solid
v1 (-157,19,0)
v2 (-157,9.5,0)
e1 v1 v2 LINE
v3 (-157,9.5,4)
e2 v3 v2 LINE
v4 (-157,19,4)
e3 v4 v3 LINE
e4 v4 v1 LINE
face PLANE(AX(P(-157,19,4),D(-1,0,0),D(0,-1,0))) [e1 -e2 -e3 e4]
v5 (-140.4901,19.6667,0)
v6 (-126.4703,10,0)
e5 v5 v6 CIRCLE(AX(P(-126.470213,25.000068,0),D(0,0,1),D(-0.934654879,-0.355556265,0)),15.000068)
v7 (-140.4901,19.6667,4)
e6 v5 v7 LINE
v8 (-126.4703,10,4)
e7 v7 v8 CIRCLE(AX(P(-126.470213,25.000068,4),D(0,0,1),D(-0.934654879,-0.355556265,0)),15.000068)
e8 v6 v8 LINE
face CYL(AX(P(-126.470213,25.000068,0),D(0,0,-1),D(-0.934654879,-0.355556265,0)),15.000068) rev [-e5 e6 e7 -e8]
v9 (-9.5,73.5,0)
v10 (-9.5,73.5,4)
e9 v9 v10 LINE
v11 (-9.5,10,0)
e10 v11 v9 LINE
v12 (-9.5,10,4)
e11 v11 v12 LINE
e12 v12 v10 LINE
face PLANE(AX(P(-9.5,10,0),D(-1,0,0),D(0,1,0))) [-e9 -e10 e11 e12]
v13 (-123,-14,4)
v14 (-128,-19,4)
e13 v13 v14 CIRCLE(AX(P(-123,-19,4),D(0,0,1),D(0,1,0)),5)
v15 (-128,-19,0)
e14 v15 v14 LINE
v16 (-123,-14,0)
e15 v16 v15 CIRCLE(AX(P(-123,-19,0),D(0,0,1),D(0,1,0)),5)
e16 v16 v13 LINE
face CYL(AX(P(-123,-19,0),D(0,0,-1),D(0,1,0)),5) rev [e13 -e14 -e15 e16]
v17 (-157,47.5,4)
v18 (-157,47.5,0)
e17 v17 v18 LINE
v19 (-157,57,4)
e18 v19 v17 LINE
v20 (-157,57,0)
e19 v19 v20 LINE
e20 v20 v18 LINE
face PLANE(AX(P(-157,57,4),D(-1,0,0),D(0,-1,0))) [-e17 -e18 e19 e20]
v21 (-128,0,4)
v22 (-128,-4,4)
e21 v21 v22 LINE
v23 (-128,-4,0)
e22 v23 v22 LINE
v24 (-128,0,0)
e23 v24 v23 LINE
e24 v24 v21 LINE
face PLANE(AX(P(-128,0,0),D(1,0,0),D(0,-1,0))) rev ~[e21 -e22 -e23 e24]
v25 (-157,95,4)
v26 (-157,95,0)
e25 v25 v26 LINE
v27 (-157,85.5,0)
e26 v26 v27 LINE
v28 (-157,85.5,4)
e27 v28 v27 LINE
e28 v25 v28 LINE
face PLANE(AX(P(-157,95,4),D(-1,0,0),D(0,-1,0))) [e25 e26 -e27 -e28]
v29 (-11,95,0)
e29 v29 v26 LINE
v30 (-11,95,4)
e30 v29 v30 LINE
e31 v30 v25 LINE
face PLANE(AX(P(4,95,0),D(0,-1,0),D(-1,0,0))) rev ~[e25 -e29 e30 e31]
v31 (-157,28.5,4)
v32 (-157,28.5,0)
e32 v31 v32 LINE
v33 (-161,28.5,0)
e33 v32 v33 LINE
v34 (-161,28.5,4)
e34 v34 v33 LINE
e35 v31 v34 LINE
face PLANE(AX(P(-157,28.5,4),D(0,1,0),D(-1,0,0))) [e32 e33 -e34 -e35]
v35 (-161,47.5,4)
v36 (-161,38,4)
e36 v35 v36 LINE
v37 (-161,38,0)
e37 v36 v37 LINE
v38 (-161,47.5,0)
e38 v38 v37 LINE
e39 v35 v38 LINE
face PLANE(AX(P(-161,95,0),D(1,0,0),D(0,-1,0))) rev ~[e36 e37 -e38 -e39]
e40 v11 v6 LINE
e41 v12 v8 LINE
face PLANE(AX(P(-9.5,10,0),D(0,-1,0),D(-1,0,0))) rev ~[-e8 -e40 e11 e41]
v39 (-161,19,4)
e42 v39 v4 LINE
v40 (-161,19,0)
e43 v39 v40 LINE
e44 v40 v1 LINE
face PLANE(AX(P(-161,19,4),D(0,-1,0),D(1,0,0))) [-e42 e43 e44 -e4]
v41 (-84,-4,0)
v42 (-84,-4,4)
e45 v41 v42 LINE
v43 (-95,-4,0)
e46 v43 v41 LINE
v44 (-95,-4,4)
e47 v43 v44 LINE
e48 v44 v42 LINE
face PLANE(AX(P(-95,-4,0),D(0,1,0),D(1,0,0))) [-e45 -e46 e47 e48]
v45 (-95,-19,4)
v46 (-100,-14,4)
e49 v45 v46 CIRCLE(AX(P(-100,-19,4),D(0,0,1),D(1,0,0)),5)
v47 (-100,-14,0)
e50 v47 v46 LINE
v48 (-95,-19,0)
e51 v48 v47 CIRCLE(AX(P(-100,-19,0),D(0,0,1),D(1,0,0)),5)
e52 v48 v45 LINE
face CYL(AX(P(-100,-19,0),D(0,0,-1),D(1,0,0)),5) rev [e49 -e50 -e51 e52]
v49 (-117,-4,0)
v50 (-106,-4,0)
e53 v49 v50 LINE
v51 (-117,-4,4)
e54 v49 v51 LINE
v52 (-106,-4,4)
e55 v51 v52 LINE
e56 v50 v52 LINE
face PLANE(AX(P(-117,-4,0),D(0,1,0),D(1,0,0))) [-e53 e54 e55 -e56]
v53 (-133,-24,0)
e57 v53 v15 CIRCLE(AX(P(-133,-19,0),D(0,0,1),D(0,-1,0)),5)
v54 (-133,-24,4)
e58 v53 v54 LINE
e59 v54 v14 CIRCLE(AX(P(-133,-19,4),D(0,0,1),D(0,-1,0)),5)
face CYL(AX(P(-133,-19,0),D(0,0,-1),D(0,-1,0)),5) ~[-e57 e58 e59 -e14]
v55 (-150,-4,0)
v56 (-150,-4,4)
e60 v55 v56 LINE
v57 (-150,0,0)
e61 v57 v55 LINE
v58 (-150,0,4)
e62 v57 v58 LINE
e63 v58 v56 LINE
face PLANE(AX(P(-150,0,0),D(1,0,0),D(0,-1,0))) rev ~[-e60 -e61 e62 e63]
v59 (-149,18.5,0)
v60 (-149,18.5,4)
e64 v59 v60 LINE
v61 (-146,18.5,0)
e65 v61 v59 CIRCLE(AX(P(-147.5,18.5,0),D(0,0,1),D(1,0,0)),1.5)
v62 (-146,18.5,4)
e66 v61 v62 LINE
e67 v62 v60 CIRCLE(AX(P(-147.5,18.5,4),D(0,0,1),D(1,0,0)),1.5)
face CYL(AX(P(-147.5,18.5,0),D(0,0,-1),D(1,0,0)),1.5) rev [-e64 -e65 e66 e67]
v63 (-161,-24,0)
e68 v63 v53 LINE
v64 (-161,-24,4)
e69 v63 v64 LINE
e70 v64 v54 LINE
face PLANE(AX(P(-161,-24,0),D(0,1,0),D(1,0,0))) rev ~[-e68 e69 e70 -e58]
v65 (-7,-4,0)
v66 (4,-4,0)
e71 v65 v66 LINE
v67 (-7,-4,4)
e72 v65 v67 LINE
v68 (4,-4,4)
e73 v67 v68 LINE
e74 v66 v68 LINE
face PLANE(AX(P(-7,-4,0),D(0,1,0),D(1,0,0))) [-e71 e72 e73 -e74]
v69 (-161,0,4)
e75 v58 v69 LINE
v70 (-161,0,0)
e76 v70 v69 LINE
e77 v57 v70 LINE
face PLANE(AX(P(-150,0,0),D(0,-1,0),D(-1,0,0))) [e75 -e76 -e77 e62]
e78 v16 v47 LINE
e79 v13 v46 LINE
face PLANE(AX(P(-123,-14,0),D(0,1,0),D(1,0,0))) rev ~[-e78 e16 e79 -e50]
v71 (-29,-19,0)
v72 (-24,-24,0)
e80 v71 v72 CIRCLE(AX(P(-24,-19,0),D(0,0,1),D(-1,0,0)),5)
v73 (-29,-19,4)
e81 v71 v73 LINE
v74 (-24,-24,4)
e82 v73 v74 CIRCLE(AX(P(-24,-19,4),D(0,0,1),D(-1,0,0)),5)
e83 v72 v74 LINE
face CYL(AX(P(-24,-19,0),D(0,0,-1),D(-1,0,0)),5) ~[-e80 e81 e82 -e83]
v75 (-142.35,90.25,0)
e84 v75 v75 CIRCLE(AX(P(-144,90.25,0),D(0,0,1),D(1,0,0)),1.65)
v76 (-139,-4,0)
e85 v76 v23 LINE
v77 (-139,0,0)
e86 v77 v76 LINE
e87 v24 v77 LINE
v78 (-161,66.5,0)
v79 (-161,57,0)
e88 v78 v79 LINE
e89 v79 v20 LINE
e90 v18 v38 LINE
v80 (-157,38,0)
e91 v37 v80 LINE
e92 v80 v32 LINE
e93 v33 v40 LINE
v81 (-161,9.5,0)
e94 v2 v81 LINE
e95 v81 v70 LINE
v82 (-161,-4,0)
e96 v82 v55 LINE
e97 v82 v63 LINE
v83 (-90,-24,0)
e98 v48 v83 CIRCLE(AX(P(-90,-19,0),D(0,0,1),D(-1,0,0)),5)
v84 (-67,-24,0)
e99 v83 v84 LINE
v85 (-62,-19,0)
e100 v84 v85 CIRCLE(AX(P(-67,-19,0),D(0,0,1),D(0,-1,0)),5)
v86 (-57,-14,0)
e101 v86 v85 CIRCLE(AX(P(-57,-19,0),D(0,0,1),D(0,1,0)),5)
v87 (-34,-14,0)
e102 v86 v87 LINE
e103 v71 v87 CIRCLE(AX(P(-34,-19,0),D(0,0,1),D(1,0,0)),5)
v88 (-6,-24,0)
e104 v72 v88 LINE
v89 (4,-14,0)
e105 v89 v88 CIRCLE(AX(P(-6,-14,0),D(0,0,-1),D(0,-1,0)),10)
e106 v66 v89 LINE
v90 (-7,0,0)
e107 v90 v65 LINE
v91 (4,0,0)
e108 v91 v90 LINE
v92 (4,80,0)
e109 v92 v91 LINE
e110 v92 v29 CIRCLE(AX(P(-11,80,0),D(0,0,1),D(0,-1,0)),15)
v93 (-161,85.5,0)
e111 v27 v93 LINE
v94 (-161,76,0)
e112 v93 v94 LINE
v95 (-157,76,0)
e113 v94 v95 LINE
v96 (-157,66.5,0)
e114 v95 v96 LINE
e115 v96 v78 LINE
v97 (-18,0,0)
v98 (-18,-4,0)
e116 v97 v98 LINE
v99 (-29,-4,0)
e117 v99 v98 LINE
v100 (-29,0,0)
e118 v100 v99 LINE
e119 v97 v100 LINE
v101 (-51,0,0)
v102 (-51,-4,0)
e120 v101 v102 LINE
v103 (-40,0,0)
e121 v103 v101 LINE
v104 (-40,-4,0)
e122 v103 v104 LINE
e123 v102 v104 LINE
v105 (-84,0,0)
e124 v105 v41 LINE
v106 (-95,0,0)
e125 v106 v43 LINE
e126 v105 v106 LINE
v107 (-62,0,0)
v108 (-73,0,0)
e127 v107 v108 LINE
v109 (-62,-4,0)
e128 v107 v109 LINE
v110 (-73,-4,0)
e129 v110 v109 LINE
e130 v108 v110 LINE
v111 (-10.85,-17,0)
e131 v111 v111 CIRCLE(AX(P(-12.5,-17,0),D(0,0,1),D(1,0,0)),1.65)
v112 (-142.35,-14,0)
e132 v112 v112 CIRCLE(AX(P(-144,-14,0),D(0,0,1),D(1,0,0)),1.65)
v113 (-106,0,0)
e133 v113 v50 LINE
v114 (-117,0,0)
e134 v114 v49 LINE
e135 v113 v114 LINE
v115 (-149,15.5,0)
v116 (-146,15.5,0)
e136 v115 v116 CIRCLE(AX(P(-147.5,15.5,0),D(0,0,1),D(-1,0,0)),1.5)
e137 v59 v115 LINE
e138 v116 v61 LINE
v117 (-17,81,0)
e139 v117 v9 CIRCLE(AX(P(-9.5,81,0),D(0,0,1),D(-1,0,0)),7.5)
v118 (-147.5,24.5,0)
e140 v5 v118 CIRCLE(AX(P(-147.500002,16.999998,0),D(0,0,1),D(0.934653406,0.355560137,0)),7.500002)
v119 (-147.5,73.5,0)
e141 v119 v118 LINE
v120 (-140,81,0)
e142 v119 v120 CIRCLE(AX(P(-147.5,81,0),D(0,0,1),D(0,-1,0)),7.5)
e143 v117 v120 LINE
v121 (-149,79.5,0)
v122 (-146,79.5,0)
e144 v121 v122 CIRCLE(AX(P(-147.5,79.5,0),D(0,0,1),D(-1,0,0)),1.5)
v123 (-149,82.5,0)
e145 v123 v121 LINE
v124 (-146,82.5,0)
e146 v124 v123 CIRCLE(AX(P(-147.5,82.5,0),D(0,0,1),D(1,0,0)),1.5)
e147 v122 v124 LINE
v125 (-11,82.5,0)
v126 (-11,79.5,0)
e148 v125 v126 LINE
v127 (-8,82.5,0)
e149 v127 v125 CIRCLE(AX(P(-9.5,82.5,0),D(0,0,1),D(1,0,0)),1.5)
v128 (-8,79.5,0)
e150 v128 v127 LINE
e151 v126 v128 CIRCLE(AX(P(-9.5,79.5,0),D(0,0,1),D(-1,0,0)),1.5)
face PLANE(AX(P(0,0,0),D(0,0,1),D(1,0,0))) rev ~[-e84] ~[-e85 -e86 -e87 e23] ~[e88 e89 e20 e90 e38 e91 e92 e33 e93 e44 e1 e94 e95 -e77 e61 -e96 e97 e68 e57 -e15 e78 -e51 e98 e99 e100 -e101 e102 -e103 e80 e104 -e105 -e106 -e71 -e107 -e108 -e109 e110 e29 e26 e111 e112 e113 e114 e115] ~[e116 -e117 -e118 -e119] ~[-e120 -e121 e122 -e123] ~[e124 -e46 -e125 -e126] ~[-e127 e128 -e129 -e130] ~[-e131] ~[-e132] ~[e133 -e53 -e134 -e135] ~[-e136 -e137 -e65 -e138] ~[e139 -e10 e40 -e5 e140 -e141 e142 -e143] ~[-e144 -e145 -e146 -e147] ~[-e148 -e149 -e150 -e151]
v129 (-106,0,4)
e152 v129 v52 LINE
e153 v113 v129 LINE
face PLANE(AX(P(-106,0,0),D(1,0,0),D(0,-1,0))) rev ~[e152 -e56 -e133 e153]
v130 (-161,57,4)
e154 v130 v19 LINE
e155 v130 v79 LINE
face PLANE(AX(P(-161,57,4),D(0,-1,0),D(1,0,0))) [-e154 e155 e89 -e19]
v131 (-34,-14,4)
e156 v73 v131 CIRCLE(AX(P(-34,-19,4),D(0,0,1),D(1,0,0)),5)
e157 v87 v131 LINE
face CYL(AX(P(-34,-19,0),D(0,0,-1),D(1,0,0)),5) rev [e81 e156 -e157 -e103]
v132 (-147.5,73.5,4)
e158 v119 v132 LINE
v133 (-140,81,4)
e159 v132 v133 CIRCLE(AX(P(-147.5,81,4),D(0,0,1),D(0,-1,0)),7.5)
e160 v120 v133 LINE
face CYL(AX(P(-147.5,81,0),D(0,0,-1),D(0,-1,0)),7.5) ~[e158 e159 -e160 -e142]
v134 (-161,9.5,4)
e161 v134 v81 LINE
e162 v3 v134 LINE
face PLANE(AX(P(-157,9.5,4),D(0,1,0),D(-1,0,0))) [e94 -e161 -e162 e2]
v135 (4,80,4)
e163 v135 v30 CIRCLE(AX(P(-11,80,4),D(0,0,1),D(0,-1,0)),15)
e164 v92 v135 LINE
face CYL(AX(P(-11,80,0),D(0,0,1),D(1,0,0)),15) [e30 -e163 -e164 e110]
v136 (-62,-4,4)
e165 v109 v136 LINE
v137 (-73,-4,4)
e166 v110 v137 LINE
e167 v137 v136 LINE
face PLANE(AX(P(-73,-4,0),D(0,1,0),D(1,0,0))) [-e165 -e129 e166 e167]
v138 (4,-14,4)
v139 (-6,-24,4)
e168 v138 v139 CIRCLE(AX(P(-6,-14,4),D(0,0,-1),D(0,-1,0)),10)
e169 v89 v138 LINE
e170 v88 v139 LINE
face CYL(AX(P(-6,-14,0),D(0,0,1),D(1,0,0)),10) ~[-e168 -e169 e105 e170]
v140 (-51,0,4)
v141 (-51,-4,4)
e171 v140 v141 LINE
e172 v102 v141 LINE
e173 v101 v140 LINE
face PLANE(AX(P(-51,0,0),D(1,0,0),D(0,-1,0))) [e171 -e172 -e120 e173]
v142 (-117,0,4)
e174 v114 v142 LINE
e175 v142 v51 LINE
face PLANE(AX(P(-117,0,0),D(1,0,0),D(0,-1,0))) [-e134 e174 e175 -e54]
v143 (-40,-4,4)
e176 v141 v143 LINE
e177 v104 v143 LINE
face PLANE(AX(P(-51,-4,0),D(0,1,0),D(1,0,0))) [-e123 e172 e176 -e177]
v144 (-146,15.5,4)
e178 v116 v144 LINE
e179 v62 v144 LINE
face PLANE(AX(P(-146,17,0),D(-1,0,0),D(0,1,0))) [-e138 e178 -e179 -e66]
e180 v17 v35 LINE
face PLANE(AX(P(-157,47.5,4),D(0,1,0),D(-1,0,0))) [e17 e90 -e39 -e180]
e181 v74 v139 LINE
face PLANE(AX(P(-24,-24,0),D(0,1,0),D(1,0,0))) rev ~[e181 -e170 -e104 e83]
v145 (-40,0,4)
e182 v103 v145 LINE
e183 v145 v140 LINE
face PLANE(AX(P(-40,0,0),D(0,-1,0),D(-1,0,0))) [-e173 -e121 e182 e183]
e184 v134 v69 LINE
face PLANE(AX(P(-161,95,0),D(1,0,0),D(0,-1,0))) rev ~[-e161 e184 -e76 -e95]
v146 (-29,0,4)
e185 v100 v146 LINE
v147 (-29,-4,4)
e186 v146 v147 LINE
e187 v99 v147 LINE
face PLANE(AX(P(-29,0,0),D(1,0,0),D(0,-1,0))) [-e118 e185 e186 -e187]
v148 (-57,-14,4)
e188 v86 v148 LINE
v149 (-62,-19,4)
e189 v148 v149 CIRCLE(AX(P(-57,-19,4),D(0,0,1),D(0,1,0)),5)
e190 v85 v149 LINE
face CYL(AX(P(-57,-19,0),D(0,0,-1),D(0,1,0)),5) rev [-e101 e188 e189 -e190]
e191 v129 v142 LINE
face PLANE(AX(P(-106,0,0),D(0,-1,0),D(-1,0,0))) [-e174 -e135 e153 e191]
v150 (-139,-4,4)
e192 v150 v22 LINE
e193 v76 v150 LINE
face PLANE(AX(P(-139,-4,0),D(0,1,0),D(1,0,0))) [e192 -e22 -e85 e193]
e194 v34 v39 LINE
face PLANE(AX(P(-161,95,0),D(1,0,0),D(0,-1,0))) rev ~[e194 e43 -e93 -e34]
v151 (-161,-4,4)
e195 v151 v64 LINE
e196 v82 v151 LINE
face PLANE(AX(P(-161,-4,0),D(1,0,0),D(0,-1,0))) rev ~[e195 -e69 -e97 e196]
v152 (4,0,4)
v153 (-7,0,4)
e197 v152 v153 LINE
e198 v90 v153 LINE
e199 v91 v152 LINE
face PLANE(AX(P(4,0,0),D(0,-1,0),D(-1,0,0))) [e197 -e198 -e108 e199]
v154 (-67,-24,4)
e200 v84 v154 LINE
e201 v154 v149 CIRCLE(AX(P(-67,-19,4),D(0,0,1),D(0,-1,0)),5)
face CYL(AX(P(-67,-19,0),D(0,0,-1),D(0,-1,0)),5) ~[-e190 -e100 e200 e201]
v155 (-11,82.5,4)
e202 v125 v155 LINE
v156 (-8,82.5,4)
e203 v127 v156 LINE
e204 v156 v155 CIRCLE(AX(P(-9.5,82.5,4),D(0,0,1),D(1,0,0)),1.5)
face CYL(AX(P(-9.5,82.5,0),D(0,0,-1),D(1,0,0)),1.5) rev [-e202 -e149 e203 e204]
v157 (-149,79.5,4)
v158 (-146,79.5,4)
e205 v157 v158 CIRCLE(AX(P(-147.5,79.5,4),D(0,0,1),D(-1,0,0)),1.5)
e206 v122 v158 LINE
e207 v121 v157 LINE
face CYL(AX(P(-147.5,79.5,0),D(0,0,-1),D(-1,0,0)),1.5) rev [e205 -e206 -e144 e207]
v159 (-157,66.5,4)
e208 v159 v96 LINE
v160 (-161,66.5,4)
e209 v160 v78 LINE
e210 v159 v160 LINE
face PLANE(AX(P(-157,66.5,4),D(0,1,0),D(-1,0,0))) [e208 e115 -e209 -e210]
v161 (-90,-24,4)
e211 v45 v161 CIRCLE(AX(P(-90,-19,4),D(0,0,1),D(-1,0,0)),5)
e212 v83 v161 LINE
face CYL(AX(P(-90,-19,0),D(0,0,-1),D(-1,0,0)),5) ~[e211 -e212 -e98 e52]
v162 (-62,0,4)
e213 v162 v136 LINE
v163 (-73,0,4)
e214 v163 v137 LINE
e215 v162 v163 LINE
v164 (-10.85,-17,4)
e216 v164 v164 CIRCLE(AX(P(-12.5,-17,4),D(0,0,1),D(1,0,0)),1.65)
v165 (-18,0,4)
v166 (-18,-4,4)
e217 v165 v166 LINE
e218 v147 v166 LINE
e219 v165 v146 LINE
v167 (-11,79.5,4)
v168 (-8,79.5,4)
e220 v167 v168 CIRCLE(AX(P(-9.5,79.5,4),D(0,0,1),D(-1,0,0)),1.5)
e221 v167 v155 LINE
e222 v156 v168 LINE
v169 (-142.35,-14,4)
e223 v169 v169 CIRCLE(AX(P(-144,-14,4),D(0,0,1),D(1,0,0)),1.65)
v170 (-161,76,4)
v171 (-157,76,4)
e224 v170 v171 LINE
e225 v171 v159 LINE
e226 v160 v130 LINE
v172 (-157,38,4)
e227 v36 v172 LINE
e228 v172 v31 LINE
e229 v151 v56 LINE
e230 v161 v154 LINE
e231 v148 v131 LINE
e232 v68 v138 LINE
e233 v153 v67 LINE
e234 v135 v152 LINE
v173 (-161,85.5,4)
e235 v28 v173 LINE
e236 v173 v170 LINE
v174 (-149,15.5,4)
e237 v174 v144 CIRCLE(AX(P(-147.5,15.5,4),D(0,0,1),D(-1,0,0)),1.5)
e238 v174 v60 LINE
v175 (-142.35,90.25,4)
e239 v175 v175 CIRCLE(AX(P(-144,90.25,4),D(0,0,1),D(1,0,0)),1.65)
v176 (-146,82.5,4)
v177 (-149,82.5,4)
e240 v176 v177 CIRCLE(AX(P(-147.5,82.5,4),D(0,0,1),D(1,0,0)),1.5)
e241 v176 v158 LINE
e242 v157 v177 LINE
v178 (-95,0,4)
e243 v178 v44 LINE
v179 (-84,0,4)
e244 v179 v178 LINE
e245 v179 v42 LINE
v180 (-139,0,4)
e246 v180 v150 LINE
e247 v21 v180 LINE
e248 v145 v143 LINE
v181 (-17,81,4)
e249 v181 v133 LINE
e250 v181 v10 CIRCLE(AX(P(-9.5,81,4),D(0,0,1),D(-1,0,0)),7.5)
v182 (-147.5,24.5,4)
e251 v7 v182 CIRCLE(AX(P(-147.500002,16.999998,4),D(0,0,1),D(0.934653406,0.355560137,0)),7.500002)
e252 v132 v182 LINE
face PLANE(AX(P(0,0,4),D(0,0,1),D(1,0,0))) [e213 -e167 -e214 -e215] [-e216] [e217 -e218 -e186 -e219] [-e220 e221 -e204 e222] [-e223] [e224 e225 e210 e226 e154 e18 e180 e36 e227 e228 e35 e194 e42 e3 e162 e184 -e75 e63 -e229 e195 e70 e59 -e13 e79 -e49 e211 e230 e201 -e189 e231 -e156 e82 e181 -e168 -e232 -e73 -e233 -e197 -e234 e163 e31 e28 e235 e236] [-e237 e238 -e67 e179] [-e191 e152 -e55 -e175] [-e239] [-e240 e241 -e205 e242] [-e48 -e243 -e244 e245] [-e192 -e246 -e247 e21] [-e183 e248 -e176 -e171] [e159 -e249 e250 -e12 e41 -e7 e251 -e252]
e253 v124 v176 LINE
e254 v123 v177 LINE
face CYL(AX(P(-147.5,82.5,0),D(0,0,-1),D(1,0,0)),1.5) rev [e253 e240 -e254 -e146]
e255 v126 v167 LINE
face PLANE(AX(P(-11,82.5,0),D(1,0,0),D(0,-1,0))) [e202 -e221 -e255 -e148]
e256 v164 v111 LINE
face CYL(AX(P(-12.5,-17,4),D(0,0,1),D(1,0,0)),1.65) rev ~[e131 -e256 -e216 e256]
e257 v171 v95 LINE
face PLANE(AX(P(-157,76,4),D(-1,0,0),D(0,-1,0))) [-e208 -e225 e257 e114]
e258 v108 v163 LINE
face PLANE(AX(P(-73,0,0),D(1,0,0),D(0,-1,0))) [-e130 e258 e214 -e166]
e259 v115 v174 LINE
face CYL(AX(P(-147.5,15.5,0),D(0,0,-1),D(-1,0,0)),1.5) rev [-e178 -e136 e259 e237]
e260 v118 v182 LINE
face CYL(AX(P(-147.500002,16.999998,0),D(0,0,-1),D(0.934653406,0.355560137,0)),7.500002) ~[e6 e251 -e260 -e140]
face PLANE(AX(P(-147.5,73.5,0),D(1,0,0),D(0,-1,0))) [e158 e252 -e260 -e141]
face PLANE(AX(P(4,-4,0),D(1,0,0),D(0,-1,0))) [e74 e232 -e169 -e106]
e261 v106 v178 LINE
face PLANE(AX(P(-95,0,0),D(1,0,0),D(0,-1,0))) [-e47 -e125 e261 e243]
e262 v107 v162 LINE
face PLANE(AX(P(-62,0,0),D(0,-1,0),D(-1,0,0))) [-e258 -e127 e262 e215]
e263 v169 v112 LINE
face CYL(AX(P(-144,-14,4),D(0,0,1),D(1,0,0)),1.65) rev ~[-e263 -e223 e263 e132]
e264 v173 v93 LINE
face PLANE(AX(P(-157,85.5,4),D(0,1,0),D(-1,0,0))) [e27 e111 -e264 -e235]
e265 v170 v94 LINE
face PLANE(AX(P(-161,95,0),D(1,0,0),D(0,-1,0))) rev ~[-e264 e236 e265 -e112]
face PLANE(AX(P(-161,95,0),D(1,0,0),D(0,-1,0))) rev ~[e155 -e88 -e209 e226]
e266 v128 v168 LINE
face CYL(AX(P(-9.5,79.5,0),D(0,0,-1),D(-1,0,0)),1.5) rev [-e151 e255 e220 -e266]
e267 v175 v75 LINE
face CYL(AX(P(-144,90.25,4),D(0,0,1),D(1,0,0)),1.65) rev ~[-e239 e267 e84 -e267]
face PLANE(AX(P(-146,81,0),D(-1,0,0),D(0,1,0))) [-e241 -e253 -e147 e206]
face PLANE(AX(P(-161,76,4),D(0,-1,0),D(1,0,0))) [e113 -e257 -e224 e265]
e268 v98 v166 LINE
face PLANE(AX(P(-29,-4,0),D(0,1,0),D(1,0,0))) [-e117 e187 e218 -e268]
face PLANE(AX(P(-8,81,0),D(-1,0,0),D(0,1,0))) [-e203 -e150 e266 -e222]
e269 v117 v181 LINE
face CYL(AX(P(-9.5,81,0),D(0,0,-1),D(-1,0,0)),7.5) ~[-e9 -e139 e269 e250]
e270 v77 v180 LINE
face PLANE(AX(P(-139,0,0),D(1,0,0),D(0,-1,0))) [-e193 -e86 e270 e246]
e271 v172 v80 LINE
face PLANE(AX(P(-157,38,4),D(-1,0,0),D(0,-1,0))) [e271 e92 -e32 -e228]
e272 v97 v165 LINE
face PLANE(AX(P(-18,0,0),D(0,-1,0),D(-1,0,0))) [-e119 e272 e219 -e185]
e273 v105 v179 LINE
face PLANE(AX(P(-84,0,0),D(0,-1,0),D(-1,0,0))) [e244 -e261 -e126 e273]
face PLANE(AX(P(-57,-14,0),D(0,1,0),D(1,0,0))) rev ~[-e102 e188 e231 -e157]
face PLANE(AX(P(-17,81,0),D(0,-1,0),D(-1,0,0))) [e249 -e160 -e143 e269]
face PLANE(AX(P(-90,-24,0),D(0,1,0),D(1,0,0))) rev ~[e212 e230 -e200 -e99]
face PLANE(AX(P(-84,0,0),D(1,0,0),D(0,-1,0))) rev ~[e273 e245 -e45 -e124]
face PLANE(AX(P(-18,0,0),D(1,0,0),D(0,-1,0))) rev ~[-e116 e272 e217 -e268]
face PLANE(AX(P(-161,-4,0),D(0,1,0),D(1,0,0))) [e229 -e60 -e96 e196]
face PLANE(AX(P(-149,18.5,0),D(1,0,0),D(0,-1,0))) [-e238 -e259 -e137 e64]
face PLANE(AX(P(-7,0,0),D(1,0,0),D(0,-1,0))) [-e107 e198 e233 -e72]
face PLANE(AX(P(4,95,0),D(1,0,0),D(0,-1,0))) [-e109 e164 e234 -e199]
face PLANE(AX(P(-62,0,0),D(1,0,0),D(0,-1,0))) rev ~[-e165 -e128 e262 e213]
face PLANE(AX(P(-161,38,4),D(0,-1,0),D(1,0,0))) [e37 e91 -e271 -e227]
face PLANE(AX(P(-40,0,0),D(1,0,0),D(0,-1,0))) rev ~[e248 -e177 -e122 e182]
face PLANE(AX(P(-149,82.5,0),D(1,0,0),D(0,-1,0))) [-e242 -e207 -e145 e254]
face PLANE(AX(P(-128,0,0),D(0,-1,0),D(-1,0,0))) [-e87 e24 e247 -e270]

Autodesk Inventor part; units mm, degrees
ref_plane "YZ Plane" through (0, 0, 0) normal (1, 0, 0) x (0, 1, 0)
ref_plane "XZ Plane" through (0, 0, 0) normal (0, 1, 0) x (-1, 0, 0)
ref_plane "XY Plane" through (0, 0, 0) normal (0, 0, 1) x (1, 0, 0)
sketch "Schizzo1" plane through (0, 0, 0) normal (0, 0, 1) x (1, 0, 0)
  line L0 (-152.5, 86) -> (-2.5, 86) construction
  line L1 (-152.5, 0) -> (-152.5, 86) construction
  line L2 (-2.5, 0) -> (-2.5, 86) construction
  circle A0 centre (-9.5, 81) radius 1.5 projected
  circle A1 centre (-147.5, 81) radius 1.5 projected
  circle A2 centre (-147.5, 17) radius 1.5 projected
  line L3 (4, 95) -> (-161, 95)
  line L4 (-161, -24) -> (-133, -24)
  line L5 (-128, -19) -> (-128, -19)
  line L6 (-123, -14) -> (-100, -14)
  line L7 (-95, -19) -> (-95, -19)
  line L8 (-90, -24) -> (-67, -24)
  line L9 (-62, -19) -> (-62, -19)
  line L10 (-57, -14) -> (-34, -14)
  line L11 (-29, -19) -> (-29, -19)
  line L12 (-24, -24) -> (4, -24)
  arc A3 (-133, -24) -> (-128, -19) centre (-133, -19) ccw
  arc A4 (-123, -14) -> (-128, -19) centre (-123, -19) ccw
  arc A5 (-95, -19) -> (-100, -14) centre (-100, -19) ccw
  arc A6 (-95, -19) -> (-90, -24) centre (-90, -19) ccw
  arc A7 (-67, -24) -> (-62, -19) centre (-67, -19) ccw
  arc A8 (-57, -14) -> (-62, -19) centre (-57, -19) ccw
  arc A9 (-29, -19) -> (-34, -14) centre (-34, -19) ccw
  arc A10 (-29, -19) -> (-24, -24) centre (-24, -19) ccw
  arc A11 (-17, 81) -> (-9.5, 73.5) centre (-9.5, 81) ccw
  arc A12 (-147.5, 73.5) -> (-140, 81) centre (-147.5, 81) ccw
  arc A13 (-140.4901, 19.6667) -> (-147.5, 24.5) centre (-147.5, 17) ccw
  line L13 (-147.5, 73.5) -> (-147.5, 24.5)
  line L14 (-17, 81) -> (-140, 81)
  line L15 (-9.5, 10) -> (-126.4703, 10)
  arc A14 (-140.4901, 19.6667) -> (-126.4703, 10) centre (-126.4703, 25) ccw
  line L16 (-9.5, 10) -> (-9.5, 73.5)
  line L17 (-161, 95) -> (-161, -24)
  line L18 (4, 95) -> (4, -24)
  line L19 (-161, -4) -> (-150, -4) projected
  line L20 (-150, 0) -> (-150, -4) projected
  line L21 (-150, 0) -> (-161, 0) projected
  line L22 (-161, 0) -> (-161, -4) projected
  line L23 (-139, -4) -> (-128, -4) projected
  line L24 (-128, 0) -> (-128, -4) projected
  line L25 (-128, 0) -> (-139, 0) projected
  line L26 (-139, 0) -> (-139, -4) projected
  line L27 (-117, -4) -> (-106, -4) projected
  line L28 (-106, 0) -> (-106, -4) projected
  line L29 (-106, 0) -> (-117, 0) projected
  line L30 (-117, 0) -> (-117, -4) projected
  line L31 (-95, -4) -> (-84, -4) projected
  line L32 (-84, 0) -> (-84, -4) projected
  line L33 (-84, 0) -> (-95, 0) projected
  line L34 (-95, 0) -> (-95, -4) projected
  line L35 (-73, -4) -> (-62, -4) projected
  line L36 (-62, 0) -> (-62, -4) projected
  line L37 (-62, 0) -> (-73, 0) projected
  line L38 (-73, 0) -> (-73, -4) projected
  line L39 (-51, -4) -> (-40, -4) projected
  line L40 (-40, 0) -> (-40, -4) projected
  line L41 (-40, 0) -> (-51, 0) projected
  line L42 (-51, 0) -> (-51, -4) projected
  line L43 (-29, -4) -> (-18, -4) projected
  line L44 (-18, 0) -> (-18, -4) projected
  line L45 (-18, 0) -> (-29, 0) projected
  line L46 (-29, 0) -> (-29, -4) projected
  line L47 (-7, -4) -> (4, -4) projected
  line L48 (-7, 0) -> (-7, -4) projected
  line L49 (-147.5, 82.5) -> (-147.5, 79.5) construction
  line L50 (-149, 82.5) -> (-149, 79.5)
  line L51 (-146, 79.5) -> (-146, 82.5)
  arc A15 (-146, 82.5) -> (-149, 82.5) centre (-147.5, 82.5) ccw
  arc A16 (-149, 79.5) -> (-146, 79.5) centre (-147.5, 79.5) ccw
  line L52 (-9.5, 82.5) -> (-9.5, 79.5) construction
  line L53 (-11, 82.5) -> (-11, 79.5)
  line L54 (-8, 79.5) -> (-8, 82.5)
  arc A17 (-8, 82.5) -> (-11, 82.5) centre (-9.5, 82.5) ccw
  arc A18 (-11, 79.5) -> (-8, 79.5) centre (-9.5, 79.5) ccw
  line L55 (-147.5, 18.5) -> (-147.5, 15.5) construction
  line L56 (-149, 18.5) -> (-149, 15.5)
  line L57 (-146, 15.5) -> (-146, 18.5)
  arc A19 (-146, 18.5) -> (-149, 18.5) centre (-147.5, 18.5) ccw
  arc A20 (-149, 15.5) -> (-146, 15.5) centre (-147.5, 15.5) ccw
  line L58 (4, 0) -> (4, -4) projected
  line L59 (4, 0) -> (-7, 0) projected
  point P0 (-128, -24)
  point P1 (-128, -14)
  point P2 (-95, -14)
  point P3 (-95, -24)
  point P4 (-62, -24)
  point P5 (-62, -14)
  point P6 (-29, -14)
  point P7 (-29, -24)
  point P8 (-144.8074, 10)
  dimension "d0" = 165
  dimension "d9" = 33
  dimension "d10" = 10
  dimension "d11" = 33
  dimension "d12" = 10
  dimension "d13" = 33
  dimension "d14" = 10
  dimension "d15" = 33
  dimension "d16" = 5
  dimension "d21" = 15
extrude "Estrusione1" add sketch "Schizzo1" along normal blind 4 contours L18 L59 L48 L47 L12 A10 A9 L10 A8 A7 L8 A6 A5 L6 A4 A3 L4 L17 L19 L20 L21 L3
sketch "Schizzo2" plane through (0, 0, 4) normal (0, 0, 1) x (1, 0, 0)
  line L0 (-157, 85.5) -> (-161, 85.5)
  line L1 (-161, 85.5) -> (-161, 95)
  line L2 (-161, 95) -> (-157, 95)
  line L3 (-157, 95) -> (-157, 85.5)
  line L4 (-157, 66.5) -> (-161, 66.5)
  line L5 (-161, 66.5) -> (-161, 76)
  line L6 (-161, 76) -> (-157, 76)
  line L7 (-157, 76) -> (-157, 66.5)
  line L8 (-161, 57) -> (-157, 57)
  line L9 (-157, 57) -> (-157, 47.5)
  line L10 (-157, 47.5) -> (-161, 47.5)
  line L11 (-161, 47.5) -> (-161, 57)
  line L12 (-157, 28.5) -> (-161, 28.5)
  line L13 (-161, 28.5) -> (-161, 38)
  line L14 (-161, 38) -> (-157, 38)
  line L15 (-157, 38) -> (-157, 28.5)
  line L16 (-161, 19) -> (-157, 19)
  line L17 (-157, 19) -> (-157, 9.5)
  line L18 (-157, 9.5) -> (-161, 9.5)
  line L19 (-161, 9.5) -> (-161, 19)
  point P0 (0, 0)
extrude "Estrusione2" cut sketch "Schizzo2" against normal blind 4
fillet "Raccordo1" radius 15 1 edges at (4, 95, 2)
fillet "Raccordo2" radius 10 1 edges at (4, -24, 2)
sketch "Schizzo3" plane through (0, 0, 4) normal (0, 0, 1) x (1, 0, 0)
  line L0 (-14.15, 0) -> (-10.85, 0) projected
  line L1 (-146.15, 0) -> (-142.85, 0) projected
  line L2 (-144.5, 0) -> (-137.5, 0) construction
  line L3 (-12.5, 0) -> (-12.5, -17) construction
  circle A0 centre (-12.5, -17) radius 1.65
  line L4 (-157, 82.4) -> (-157, 79.1) construction
  line L5 (-157, 85.5) -> (-157, 95) construction
  line L6 (-157, 95) -> (-157, 85.5) projected
  line L7 (-157, 90.25) -> (-144, 90.25) construction
  circle A1 centre (-144, 90.25) radius 1.65
  line L8 (-157, -12.35) -> (-157, -15.65) construction
  line L9 (-157, -14) -> (-144, -14) construction
  circle A2 centre (-144, -14) radius 1.65
  point P0 (0, 0)
  dimension "d32" = 3.3
  dimension "d35" = 13
  dimension "d36" = 3.3
  dimension "d37" = 13
  dimension "d38" = 3.3
  dimension "d39" = 17
extrude "Estrusione3" cut sketch "Schizzo3" against normal blind 4
properties part number "LatoAlimentatore"
